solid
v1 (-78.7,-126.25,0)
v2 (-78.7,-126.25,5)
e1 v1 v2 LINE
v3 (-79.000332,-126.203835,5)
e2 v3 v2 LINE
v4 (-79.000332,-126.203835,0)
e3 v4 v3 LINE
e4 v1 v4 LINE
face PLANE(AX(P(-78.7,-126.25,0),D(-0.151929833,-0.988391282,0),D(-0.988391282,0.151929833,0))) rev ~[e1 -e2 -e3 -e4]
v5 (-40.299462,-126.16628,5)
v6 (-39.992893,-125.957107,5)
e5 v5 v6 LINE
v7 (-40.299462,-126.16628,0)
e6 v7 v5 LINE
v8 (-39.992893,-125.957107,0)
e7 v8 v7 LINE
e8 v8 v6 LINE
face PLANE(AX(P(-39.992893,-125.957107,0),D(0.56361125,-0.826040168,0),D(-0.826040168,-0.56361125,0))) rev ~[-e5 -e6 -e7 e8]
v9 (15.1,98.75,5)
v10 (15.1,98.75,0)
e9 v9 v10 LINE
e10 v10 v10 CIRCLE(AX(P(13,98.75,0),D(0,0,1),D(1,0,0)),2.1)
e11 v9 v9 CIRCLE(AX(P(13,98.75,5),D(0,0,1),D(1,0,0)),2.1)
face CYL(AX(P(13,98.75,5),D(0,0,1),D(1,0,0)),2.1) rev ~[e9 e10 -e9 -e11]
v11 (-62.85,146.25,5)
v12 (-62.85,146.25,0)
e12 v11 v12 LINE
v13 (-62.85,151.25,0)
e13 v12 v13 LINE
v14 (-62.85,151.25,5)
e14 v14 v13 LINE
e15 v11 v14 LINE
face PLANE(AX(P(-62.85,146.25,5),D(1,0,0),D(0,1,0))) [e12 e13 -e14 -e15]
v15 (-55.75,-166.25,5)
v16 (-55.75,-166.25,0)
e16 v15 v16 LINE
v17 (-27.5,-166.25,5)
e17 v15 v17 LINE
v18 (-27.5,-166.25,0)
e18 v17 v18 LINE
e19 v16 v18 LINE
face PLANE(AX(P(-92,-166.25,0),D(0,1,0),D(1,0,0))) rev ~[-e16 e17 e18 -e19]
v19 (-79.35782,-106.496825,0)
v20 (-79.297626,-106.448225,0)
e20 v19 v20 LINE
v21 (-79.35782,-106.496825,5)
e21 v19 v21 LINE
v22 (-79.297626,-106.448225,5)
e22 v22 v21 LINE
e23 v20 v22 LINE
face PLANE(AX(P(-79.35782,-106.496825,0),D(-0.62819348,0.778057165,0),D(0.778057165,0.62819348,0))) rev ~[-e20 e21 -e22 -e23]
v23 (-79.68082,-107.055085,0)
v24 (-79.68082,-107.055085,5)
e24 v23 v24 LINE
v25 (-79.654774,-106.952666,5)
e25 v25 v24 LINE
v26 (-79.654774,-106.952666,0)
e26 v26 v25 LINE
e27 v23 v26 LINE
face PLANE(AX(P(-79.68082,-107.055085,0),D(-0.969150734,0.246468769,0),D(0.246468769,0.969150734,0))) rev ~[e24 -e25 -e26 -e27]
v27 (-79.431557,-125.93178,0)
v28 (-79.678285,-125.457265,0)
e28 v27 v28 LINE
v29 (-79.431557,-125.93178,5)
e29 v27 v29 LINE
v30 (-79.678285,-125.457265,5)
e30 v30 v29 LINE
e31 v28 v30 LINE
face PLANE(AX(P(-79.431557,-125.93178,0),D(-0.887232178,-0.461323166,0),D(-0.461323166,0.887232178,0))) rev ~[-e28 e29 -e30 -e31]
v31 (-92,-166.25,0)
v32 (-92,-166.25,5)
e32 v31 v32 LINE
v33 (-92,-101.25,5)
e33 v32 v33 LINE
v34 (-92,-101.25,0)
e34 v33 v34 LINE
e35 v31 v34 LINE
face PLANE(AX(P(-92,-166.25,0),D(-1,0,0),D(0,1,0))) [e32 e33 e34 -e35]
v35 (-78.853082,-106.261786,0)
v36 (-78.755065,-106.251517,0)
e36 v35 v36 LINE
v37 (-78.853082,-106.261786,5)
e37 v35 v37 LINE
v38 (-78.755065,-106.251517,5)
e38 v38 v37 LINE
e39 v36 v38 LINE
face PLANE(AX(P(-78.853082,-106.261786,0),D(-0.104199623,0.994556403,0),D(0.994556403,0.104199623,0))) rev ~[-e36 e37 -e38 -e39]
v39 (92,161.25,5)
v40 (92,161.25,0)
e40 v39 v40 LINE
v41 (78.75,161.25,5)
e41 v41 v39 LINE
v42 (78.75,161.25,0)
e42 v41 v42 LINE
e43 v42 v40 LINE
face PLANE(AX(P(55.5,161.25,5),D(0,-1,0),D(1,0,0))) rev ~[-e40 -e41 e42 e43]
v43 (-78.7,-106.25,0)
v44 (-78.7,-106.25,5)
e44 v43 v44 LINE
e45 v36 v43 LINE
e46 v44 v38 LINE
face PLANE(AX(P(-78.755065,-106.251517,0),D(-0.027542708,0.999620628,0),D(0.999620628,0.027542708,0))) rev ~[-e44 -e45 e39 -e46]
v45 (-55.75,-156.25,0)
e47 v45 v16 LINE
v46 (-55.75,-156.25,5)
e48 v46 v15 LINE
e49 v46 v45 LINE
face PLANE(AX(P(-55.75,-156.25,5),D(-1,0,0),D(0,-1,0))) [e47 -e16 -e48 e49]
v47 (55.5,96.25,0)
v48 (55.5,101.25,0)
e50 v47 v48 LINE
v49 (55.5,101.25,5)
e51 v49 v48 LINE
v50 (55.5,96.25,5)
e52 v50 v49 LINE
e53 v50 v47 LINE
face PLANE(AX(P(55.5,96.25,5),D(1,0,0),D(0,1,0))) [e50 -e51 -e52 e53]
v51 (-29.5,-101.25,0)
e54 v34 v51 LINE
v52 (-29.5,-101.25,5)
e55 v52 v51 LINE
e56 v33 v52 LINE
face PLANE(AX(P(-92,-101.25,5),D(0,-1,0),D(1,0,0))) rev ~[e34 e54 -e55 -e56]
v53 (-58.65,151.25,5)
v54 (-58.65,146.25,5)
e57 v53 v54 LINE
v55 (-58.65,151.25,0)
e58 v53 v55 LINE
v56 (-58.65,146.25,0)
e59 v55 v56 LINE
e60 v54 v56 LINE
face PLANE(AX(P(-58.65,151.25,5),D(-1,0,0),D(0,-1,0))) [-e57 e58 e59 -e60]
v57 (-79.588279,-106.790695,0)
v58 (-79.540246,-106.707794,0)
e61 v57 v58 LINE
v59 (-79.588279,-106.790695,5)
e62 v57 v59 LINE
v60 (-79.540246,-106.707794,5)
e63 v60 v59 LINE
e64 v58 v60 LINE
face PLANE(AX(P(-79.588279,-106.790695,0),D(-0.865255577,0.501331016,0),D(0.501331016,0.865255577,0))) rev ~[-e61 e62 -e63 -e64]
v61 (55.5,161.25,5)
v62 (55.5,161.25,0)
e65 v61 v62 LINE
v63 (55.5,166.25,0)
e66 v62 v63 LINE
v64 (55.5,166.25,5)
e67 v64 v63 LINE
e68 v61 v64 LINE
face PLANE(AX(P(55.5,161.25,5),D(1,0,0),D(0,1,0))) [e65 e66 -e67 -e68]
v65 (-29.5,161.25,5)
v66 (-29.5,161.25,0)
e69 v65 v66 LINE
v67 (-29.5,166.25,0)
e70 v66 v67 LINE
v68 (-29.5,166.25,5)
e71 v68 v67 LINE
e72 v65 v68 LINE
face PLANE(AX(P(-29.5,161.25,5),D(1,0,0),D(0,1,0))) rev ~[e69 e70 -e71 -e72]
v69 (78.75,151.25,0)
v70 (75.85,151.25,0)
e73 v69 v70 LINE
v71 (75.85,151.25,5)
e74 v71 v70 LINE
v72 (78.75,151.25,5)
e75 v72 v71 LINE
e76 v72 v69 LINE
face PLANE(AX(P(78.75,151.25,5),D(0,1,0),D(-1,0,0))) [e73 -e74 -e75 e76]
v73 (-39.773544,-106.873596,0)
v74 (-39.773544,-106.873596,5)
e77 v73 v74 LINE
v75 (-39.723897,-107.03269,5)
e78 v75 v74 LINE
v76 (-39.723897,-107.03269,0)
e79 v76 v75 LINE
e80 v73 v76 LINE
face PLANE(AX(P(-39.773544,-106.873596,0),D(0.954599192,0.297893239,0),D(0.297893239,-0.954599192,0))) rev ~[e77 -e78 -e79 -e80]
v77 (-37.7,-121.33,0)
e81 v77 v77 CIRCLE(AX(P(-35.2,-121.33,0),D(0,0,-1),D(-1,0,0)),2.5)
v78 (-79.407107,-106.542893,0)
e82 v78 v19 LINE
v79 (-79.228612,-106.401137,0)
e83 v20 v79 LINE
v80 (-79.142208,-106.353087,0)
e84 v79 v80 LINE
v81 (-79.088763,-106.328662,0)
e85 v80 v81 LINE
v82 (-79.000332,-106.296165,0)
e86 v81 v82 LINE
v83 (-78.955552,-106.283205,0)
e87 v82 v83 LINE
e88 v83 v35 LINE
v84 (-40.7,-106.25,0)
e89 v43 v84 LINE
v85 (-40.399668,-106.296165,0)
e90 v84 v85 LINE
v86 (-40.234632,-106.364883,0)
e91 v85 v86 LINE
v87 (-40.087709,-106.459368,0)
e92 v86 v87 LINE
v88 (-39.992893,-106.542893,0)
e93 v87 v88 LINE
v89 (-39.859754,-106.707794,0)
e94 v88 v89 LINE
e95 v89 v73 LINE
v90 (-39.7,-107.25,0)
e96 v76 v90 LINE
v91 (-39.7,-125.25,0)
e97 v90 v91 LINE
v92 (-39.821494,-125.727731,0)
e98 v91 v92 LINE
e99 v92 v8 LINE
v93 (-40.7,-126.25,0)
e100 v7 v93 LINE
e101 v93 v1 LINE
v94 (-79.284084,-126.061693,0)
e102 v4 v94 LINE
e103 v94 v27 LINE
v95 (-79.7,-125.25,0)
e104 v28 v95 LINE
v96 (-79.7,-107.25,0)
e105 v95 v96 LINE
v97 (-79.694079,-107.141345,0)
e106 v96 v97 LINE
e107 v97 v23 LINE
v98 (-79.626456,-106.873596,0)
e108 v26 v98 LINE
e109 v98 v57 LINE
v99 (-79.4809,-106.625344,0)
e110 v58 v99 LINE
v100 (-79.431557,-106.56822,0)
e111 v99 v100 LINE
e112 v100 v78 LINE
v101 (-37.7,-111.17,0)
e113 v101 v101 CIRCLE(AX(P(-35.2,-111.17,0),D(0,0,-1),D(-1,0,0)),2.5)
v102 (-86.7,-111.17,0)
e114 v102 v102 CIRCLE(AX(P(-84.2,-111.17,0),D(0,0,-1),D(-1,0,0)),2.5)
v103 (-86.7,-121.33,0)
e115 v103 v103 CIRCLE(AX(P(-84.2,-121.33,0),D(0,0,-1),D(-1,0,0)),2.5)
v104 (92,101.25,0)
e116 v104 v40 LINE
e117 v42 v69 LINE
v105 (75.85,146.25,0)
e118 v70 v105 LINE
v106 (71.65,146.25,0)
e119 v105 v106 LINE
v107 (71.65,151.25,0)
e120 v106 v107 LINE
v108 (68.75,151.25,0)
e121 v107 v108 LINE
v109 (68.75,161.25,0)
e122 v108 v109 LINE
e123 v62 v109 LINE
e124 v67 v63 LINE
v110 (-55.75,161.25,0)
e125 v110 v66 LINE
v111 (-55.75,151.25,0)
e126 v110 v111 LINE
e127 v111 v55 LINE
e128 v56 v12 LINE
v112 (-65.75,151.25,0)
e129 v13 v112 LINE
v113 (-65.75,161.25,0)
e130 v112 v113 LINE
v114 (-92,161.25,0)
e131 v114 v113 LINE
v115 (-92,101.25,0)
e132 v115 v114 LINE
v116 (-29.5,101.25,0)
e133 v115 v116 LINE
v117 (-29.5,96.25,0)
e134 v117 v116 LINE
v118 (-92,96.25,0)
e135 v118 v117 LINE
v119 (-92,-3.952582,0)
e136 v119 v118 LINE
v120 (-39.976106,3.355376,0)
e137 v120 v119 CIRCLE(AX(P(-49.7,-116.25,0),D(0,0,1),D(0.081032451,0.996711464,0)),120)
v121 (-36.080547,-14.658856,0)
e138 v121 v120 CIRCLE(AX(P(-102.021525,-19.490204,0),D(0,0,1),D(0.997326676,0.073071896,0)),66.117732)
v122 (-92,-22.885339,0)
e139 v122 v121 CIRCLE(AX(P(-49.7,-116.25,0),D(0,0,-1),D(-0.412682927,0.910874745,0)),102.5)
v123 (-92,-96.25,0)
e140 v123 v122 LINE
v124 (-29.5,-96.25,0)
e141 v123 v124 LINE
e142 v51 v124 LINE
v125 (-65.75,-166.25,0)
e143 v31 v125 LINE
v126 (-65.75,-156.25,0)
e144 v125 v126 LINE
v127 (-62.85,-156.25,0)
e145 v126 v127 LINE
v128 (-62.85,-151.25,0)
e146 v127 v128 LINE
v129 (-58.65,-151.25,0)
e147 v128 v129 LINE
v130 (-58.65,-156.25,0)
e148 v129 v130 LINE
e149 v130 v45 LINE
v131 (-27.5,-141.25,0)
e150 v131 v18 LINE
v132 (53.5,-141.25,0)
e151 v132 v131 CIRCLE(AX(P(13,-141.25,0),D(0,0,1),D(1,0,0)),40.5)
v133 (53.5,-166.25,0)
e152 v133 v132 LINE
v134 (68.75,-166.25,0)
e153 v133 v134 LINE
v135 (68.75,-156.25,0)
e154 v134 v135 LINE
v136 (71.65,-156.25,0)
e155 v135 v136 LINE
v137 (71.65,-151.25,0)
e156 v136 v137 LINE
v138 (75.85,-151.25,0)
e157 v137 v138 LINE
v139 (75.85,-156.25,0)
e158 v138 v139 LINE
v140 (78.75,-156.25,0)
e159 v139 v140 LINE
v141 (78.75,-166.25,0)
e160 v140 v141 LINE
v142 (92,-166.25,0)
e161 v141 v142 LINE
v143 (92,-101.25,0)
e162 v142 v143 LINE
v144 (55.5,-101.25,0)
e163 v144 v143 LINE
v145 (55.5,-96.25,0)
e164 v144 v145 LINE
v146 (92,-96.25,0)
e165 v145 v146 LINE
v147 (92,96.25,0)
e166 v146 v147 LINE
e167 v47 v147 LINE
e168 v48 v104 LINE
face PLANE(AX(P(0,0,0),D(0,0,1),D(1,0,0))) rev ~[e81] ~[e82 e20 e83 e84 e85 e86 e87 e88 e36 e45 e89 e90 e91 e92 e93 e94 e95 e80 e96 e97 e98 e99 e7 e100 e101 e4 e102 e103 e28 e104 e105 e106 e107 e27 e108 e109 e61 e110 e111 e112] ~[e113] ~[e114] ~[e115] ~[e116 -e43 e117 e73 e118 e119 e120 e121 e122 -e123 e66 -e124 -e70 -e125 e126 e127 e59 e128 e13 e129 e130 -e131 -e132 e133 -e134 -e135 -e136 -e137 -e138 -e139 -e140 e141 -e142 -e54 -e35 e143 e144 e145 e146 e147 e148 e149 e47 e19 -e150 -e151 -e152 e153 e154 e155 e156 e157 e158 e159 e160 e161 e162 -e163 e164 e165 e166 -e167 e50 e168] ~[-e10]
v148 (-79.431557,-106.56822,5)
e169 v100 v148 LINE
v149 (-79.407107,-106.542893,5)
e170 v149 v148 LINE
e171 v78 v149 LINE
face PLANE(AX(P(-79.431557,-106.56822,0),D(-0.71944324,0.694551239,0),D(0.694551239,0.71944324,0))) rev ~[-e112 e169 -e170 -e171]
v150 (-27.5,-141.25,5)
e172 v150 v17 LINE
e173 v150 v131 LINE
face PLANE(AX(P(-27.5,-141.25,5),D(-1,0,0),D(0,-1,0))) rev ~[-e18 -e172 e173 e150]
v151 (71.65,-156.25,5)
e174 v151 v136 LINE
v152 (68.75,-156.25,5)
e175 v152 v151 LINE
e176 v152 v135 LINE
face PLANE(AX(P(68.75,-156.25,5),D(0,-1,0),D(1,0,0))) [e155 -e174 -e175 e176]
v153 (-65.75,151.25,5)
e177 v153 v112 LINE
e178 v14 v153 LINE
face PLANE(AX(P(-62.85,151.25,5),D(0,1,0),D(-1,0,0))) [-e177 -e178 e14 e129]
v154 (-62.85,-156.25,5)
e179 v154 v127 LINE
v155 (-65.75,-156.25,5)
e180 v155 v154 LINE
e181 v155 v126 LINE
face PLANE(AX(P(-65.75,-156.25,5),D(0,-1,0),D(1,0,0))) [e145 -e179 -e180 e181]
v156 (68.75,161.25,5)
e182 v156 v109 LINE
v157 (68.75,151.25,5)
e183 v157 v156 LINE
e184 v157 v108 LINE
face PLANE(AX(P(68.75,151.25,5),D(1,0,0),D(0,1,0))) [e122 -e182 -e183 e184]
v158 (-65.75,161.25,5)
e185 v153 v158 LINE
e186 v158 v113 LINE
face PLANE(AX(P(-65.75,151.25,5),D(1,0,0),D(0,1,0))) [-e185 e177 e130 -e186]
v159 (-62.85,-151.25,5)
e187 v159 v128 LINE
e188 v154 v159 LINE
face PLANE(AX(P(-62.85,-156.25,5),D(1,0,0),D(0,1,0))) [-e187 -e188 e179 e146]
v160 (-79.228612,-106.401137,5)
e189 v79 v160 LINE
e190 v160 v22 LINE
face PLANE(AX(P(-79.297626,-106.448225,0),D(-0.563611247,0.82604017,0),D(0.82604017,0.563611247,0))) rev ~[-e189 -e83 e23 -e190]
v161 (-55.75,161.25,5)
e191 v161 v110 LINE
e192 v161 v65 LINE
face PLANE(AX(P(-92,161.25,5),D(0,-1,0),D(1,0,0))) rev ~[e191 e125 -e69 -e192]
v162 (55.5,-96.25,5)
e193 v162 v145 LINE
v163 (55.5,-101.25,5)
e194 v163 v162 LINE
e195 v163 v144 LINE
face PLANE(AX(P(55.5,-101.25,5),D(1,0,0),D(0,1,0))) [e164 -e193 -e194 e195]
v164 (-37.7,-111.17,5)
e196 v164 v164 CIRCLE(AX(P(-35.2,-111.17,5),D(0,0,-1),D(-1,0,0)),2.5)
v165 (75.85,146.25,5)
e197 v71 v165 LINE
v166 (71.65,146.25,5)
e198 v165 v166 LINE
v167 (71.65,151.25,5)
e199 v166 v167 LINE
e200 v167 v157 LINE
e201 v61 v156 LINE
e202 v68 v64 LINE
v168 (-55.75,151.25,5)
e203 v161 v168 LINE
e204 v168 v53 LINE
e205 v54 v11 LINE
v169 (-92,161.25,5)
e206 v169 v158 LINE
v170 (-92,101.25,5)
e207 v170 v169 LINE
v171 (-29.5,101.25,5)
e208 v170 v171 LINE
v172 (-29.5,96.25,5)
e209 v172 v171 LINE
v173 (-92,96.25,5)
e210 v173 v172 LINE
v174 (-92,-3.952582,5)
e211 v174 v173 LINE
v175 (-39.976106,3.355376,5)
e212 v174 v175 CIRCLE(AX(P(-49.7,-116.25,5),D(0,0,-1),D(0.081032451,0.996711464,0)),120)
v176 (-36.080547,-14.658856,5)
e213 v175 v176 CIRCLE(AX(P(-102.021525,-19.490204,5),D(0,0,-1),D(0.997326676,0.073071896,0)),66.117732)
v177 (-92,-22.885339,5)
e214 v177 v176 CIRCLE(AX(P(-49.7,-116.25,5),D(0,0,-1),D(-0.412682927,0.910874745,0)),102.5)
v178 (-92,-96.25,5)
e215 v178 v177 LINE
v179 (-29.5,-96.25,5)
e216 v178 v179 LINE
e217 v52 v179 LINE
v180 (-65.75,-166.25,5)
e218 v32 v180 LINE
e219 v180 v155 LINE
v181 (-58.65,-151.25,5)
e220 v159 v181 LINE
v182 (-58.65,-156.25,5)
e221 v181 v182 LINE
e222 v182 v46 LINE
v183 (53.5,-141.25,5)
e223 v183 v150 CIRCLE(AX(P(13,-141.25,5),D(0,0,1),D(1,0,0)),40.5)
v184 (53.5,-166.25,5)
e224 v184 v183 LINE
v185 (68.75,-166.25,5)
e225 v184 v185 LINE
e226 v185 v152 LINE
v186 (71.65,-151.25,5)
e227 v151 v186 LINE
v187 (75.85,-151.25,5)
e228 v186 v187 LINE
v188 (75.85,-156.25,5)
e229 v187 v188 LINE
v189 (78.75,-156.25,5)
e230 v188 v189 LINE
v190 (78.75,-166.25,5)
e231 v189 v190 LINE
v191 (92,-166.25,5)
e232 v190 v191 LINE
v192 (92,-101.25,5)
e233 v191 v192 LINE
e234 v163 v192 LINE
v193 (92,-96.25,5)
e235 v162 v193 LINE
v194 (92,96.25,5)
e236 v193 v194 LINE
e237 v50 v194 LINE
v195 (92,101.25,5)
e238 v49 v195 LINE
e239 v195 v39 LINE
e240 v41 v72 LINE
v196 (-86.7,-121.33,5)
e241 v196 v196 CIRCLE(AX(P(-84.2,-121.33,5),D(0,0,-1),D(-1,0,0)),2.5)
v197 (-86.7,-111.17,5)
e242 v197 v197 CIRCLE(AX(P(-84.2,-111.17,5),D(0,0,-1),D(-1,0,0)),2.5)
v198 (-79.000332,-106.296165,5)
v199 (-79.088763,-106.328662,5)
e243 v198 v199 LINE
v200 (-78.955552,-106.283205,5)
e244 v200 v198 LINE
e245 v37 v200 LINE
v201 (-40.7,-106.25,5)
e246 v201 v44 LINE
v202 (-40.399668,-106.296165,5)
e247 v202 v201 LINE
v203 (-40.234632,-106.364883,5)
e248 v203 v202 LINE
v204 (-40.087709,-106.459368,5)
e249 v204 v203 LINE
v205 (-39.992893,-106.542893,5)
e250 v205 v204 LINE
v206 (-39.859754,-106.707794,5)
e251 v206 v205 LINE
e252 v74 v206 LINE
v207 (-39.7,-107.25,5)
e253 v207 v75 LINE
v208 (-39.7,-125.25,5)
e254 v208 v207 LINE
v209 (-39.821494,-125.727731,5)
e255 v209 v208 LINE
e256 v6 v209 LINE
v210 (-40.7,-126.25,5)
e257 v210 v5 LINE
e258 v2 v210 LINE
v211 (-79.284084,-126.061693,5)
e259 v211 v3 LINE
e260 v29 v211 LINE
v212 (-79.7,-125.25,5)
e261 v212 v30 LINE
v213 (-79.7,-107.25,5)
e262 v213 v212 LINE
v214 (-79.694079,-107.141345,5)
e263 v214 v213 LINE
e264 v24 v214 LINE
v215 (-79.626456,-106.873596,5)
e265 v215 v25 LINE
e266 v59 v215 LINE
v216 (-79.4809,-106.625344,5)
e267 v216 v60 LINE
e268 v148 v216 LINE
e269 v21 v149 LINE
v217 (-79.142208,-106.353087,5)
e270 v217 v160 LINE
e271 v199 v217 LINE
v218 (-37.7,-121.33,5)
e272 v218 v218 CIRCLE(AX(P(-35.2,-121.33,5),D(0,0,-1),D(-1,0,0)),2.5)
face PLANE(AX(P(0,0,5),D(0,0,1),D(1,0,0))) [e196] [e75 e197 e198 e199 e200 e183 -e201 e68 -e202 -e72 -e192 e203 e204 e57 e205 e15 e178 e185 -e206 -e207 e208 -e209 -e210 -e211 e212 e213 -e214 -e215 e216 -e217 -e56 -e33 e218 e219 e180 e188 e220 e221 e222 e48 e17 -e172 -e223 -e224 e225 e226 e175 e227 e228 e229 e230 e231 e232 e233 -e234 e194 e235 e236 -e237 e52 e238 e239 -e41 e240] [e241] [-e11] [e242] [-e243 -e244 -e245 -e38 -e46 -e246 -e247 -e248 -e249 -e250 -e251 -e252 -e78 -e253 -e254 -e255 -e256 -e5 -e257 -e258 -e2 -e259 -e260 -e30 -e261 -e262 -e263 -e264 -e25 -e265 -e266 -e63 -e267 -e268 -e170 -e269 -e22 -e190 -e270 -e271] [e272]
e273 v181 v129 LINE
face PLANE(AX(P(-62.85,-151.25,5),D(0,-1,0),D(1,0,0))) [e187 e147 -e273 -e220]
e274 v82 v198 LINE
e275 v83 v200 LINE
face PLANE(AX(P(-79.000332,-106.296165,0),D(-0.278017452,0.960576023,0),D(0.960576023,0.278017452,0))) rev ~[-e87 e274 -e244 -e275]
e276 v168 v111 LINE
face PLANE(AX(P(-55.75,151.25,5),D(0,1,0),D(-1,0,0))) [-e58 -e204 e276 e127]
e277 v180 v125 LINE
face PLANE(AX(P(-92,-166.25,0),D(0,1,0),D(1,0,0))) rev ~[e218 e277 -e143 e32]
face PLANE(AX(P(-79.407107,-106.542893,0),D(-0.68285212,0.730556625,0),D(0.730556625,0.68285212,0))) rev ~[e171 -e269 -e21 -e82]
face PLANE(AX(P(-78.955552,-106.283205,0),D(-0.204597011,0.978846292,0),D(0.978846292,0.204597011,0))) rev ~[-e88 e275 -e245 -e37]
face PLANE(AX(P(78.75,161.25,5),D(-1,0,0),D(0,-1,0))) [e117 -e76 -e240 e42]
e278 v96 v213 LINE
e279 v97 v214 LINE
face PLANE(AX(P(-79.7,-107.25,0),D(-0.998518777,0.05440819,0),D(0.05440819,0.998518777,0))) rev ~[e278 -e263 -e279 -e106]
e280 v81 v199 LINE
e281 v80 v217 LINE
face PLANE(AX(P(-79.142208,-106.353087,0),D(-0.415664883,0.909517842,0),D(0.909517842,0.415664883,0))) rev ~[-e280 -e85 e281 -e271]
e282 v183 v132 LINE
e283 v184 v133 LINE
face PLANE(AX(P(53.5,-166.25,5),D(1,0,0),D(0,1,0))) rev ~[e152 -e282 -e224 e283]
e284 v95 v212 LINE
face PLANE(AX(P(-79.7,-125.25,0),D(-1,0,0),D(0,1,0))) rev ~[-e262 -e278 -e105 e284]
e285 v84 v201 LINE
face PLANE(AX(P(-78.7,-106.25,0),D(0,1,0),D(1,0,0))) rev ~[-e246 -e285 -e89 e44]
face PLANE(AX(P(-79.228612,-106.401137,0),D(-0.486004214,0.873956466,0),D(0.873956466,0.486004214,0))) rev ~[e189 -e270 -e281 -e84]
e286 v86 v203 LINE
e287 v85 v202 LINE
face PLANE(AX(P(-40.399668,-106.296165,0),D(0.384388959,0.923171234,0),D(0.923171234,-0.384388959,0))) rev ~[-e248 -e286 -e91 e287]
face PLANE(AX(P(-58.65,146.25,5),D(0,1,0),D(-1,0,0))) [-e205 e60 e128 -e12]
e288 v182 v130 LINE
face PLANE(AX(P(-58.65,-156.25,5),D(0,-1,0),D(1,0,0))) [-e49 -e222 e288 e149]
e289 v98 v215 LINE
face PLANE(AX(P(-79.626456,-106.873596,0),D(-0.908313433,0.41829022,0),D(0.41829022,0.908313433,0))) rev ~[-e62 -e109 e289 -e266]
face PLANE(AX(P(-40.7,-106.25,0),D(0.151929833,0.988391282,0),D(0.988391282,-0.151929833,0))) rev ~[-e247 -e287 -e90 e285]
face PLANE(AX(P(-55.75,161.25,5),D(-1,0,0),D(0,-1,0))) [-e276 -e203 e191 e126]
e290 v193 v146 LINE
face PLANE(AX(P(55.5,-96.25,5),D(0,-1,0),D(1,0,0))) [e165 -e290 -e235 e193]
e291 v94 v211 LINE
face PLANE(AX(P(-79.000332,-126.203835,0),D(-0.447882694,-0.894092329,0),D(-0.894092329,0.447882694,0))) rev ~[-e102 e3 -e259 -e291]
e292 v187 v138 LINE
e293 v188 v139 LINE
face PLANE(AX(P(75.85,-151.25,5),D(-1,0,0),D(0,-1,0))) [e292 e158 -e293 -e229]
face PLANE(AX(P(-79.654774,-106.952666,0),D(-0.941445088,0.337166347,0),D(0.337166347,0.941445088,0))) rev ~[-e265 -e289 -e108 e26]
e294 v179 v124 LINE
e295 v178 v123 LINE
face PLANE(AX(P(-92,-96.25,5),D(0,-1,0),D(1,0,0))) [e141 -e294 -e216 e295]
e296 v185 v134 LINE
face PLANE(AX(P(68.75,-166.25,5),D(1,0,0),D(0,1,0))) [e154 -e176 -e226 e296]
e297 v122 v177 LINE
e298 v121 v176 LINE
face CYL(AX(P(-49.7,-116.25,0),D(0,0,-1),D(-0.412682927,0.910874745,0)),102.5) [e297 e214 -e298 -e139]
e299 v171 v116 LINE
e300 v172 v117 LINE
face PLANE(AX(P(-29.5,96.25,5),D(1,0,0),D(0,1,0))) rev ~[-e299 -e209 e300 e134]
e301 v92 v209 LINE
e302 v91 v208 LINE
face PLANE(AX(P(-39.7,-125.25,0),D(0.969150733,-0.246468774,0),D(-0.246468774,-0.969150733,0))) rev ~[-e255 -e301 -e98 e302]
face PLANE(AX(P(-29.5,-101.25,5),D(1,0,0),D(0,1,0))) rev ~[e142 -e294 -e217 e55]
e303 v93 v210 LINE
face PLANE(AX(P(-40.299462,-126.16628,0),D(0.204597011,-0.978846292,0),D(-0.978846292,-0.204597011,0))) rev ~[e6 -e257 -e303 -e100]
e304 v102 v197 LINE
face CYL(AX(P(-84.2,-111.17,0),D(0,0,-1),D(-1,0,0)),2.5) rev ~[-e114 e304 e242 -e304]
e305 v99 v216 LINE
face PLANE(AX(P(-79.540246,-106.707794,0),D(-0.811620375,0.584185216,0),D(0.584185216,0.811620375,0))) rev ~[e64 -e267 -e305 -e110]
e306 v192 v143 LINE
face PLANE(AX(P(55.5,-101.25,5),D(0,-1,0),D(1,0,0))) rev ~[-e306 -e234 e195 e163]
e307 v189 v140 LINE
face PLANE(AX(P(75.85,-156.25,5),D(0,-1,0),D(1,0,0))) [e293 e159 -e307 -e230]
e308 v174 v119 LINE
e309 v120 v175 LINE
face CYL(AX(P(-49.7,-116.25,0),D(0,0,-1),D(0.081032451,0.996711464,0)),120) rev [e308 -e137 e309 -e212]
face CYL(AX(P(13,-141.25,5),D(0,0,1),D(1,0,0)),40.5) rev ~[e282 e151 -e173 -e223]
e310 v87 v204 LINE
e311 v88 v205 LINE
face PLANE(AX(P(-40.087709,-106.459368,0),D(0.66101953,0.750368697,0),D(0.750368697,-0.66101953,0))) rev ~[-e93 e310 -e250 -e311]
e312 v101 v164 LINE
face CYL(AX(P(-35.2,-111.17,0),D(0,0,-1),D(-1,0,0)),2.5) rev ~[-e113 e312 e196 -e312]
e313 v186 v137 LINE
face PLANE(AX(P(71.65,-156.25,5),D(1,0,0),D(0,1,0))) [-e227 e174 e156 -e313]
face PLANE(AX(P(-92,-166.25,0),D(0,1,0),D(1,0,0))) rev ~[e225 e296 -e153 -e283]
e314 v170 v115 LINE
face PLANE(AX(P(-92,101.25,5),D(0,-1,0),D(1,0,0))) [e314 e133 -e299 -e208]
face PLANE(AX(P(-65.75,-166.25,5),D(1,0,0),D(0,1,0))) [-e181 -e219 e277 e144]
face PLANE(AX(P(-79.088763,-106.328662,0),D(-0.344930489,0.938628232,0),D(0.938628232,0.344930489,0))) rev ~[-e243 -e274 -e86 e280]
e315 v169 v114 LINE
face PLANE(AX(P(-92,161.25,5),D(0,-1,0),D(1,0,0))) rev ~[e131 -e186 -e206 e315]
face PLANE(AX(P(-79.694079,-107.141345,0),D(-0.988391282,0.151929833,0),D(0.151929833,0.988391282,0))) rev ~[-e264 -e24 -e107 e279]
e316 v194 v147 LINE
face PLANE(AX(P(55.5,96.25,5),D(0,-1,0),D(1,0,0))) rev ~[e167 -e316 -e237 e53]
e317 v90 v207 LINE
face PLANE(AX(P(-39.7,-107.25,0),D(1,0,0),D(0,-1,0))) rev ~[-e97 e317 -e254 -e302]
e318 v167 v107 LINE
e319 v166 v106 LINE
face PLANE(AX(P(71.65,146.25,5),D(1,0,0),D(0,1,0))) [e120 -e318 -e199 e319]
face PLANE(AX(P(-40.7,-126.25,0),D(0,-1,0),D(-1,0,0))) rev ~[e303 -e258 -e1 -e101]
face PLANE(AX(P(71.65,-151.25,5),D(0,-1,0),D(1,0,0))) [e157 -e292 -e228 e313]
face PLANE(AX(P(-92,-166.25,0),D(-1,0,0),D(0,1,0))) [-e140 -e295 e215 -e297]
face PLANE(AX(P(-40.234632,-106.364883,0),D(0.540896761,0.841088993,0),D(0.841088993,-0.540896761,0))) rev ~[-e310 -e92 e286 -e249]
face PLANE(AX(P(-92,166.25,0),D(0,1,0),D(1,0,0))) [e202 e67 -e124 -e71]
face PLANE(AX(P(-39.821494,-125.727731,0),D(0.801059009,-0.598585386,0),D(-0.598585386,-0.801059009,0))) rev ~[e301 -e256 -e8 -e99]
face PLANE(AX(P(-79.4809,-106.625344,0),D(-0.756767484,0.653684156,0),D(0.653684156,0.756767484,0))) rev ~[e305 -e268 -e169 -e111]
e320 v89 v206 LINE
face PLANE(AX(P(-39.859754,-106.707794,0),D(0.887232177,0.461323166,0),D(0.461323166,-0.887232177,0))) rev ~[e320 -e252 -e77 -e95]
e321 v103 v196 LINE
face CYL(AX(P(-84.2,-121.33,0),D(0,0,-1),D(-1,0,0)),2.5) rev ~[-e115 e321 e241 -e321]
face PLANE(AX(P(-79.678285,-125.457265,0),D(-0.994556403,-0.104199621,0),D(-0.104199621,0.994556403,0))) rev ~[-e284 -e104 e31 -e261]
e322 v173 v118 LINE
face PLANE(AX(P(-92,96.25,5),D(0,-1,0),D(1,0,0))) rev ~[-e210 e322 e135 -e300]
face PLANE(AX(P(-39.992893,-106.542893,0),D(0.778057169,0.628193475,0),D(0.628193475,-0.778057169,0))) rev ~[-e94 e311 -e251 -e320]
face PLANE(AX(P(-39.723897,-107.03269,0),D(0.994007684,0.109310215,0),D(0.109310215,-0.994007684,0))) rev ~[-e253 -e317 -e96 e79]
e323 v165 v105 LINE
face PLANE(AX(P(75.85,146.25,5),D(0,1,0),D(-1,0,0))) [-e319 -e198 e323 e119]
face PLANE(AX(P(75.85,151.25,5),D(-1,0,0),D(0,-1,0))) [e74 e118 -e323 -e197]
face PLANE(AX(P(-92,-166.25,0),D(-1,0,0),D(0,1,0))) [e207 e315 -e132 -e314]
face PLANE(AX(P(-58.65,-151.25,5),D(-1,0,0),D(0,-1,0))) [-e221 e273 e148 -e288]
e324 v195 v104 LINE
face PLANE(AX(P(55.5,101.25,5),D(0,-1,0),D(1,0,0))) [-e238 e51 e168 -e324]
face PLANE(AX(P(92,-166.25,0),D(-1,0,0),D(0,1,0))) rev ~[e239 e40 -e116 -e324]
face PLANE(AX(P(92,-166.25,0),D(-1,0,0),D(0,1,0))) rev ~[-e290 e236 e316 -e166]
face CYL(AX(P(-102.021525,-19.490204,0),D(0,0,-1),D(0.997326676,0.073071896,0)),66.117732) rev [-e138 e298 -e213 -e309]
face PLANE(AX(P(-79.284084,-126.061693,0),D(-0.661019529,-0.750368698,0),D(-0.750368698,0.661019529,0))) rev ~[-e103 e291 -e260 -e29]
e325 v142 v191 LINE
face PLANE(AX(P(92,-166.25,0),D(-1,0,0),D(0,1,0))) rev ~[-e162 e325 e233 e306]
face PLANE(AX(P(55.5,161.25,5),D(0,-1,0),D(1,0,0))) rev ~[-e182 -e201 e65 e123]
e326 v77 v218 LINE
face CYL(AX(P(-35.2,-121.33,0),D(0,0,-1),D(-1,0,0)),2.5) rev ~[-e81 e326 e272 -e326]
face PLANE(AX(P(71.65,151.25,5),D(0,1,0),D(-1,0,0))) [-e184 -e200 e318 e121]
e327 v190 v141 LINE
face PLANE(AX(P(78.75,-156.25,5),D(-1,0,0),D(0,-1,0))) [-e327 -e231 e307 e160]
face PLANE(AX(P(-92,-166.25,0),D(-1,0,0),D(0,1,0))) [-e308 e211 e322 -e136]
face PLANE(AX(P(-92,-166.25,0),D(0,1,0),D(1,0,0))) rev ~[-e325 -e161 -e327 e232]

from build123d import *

# Parameters (mm, degrees)
SKETCH2_W           = 184
SKETCH2_H           = 332.5
BOSS_EXTRUDE1_DEPTH = 5
SKETCH3_W           = 62.5
SKETCH3_H           = 5
SKETCH3_W_2         = 36.5
CUT_EXTRUDE2_DEPTH  = 5
CUT_EXTRUDE3_DEPTH  = 10
SKETCH5_R           = 2.1
CUT_EXTRUDE4_DEPTH  = 10
SKETCH6_R           = 2.5
CUT_EXTRUDE5_DEPTH  = 20
CUT_EXTRUDE6_DEPTH  = 10


with BuildPart() as part:
    # Sketch2 → Boss-Extrude1 (new body)
    with BuildSketch(Plane.XY):
        Rectangle(SKETCH2_W, SKETCH2_H)
    extrude(amount=BOSS_EXTRUDE1_DEPTH)

    # Sketch3 → Cut-Extrude2 (cut)
    with BuildSketch(Plane.XY.offset(5)):
        with Locations((-60.75, -98.75)):
            Rectangle(SKETCH3_W, SKETCH3_H)
        with Locations((73.75, -98.75)):
            Rectangle(SKETCH3_W_2, SKETCH3_H)
        with BuildLine():
            Line((-27.5, -141.25), (-27.5, -166.25))
            Line((-27.5, -166.25), (53.5, -166.25))
            Line((53.5, -166.25), (53.5, -141.25))
            ThreePointArc((53.5, -141.25), (13, -100.75), (-27.5, -141.25))
        make_face()
        with Locations((-60.75, 163.75)):
            Rectangle(SKETCH3_W, SKETCH3_H)
        with Locations((73.75, 163.75)):
            Rectangle(SKETCH3_W_2, SKETCH3_H)
        with Locations((-60.75, 98.75)):
            Rectangle(SKETCH3_W, SKETCH3_H)
        with Locations((73.75, 98.75)):
            Rectangle(SKETCH3_W_2, SKETCH3_H)
    extrude(amount=-CUT_EXTRUDE2_DEPTH, mode=Mode.SUBTRACT)

    # Sketch4 → Cut-Extrude3 (cut)
    with BuildSketch(Plane.XY.offset(5)):
        Polygon((-55.75, 161.25), (-55.75, 151.25), (-58.65, 151.25), (-58.65, 146.25), (-62.85, 146.25), (-62.85, 151.25), (-65.75, 151.25), (-65.75, 161.25), align=None)
        Polygon((78.75, 161.25), (78.75, 151.25), (75.85, 151.25), (75.85, 146.25), (71.65, 146.25), (71.65, 151.25), (68.75, 151.25), (68.75, 161.25), align=None)
        Polygon((68.75, -166.25), (68.75, -156.25), (71.65, -156.25), (71.65, -151.25), (75.85, -151.25), (75.85, -156.25), (78.75, -156.25), (78.75, -166.25), align=None)
        Polygon((-65.75, -166.25), (-65.75, -156.25), (-62.85, -156.25), (-62.85, -151.25), (-58.65, -151.25), (-58.65, -156.25), (-55.75, -156.25), (-55.75, -166.25), align=None)
    extrude(amount=-CUT_EXTRUDE3_DEPTH, mode=Mode.SUBTRACT)

    # Sketch5 → Cut-Extrude4 (cut)
    with BuildSketch(Plane.XY.offset(5)):
        with Locations((13, 98.75)):
            Circle(SKETCH5_R)
    extrude(amount=-CUT_EXTRUDE4_DEPTH, mode=Mode.SUBTRACT)

    # Sketch6 → Cut-Extrude5 (cut)
    with BuildSketch(Plane(origin=(0, 0, 0), x_dir=(-1, 0, 0), z_dir=(0, 0, -1))):
        with Locations((35.2, -111.17)):
            Circle(SKETCH6_R)
        with Locations((35.2, -121.33)):
            Circle(SKETCH6_R)
        with Locations((84.2, -121.33)):
            Circle(SKETCH6_R)
        with Locations((84.2, -111.17)):
            Circle(SKETCH6_R)
        Polygon((40.7, -106.25), (40.399667757, -106.296165348), (40.234631653, -106.364882888), (40.087708911, -106.459367581), (39.992893219, -106.542893219), (39.859754352, -106.707794088), (39.773544355, -106.873596044), (39.723897446, -107.032689615), (39.7, -107.25), (39.7, -125.25), (39.821493713, -125.727730786), (39.992893219, -125.957106781), (40.299461949, -126.166280126), (40.7, -126.25), (78.2, -126.25), (78.7, -126.25), (79.000332243, -126.203834652), (79.284083673, -126.061693454), (79.431556814, -125.931780484), (79.678284878, -125.4572648), (79.7, -125.25), (79.7, -107.25), (79.694079498, -107.141344807), (79.68082013, -107.055084963), (79.654773565, -106.952666114), (79.626455645, -106.873596044), (79.58827866, -106.790695066), (79.540245648, -106.707794088), (79.480899769, -106.625343654), (79.431556814, -106.568219516), (79.407106781, -106.542893219), (79.357820244, -106.496825036), (79.297626381, -106.448225275), (79.228612143, -106.401136523), (79.142207958, -106.35308745), (79.088762914, -106.32866217), (79.000332243, -106.296165348), (78.955551566, -106.283204573), (78.853081535, -106.261786438), (78.755064535, -106.251517202), (78.7, -106.25), align=None)
    extrude(amount=-CUT_EXTRUDE5_DEPTH, mode=Mode.SUBTRACT)

    # Sketch7 → Cut-Extrude6 (cut)
    with BuildSketch(Plane(origin=(0, 0, 0), x_dir=(-1, 0, 0), z_dir=(0, 0, -1))):
        with BuildLine():
            Line((92.154047247, -4.010729367), (92, -22.885338591))
            ThreePointArc((92, -22.885338591), (64.618518363, -14.841480585), (36.080546525, -14.658856257))
            ThreePointArc((36.080546525, -14.658856257), (37.397553955, -5.515336457), (39.976105832, 3.355375641))
            ThreePointArc((39.976105832, 3.355375641), (66.474403295, 2.571796797), (92.154047247, -4.010729367))
        make_face()
    extrude(amount=-CUT_EXTRUDE6_DEPTH, mode=Mode.SUBTRACT)


solid = part.part
